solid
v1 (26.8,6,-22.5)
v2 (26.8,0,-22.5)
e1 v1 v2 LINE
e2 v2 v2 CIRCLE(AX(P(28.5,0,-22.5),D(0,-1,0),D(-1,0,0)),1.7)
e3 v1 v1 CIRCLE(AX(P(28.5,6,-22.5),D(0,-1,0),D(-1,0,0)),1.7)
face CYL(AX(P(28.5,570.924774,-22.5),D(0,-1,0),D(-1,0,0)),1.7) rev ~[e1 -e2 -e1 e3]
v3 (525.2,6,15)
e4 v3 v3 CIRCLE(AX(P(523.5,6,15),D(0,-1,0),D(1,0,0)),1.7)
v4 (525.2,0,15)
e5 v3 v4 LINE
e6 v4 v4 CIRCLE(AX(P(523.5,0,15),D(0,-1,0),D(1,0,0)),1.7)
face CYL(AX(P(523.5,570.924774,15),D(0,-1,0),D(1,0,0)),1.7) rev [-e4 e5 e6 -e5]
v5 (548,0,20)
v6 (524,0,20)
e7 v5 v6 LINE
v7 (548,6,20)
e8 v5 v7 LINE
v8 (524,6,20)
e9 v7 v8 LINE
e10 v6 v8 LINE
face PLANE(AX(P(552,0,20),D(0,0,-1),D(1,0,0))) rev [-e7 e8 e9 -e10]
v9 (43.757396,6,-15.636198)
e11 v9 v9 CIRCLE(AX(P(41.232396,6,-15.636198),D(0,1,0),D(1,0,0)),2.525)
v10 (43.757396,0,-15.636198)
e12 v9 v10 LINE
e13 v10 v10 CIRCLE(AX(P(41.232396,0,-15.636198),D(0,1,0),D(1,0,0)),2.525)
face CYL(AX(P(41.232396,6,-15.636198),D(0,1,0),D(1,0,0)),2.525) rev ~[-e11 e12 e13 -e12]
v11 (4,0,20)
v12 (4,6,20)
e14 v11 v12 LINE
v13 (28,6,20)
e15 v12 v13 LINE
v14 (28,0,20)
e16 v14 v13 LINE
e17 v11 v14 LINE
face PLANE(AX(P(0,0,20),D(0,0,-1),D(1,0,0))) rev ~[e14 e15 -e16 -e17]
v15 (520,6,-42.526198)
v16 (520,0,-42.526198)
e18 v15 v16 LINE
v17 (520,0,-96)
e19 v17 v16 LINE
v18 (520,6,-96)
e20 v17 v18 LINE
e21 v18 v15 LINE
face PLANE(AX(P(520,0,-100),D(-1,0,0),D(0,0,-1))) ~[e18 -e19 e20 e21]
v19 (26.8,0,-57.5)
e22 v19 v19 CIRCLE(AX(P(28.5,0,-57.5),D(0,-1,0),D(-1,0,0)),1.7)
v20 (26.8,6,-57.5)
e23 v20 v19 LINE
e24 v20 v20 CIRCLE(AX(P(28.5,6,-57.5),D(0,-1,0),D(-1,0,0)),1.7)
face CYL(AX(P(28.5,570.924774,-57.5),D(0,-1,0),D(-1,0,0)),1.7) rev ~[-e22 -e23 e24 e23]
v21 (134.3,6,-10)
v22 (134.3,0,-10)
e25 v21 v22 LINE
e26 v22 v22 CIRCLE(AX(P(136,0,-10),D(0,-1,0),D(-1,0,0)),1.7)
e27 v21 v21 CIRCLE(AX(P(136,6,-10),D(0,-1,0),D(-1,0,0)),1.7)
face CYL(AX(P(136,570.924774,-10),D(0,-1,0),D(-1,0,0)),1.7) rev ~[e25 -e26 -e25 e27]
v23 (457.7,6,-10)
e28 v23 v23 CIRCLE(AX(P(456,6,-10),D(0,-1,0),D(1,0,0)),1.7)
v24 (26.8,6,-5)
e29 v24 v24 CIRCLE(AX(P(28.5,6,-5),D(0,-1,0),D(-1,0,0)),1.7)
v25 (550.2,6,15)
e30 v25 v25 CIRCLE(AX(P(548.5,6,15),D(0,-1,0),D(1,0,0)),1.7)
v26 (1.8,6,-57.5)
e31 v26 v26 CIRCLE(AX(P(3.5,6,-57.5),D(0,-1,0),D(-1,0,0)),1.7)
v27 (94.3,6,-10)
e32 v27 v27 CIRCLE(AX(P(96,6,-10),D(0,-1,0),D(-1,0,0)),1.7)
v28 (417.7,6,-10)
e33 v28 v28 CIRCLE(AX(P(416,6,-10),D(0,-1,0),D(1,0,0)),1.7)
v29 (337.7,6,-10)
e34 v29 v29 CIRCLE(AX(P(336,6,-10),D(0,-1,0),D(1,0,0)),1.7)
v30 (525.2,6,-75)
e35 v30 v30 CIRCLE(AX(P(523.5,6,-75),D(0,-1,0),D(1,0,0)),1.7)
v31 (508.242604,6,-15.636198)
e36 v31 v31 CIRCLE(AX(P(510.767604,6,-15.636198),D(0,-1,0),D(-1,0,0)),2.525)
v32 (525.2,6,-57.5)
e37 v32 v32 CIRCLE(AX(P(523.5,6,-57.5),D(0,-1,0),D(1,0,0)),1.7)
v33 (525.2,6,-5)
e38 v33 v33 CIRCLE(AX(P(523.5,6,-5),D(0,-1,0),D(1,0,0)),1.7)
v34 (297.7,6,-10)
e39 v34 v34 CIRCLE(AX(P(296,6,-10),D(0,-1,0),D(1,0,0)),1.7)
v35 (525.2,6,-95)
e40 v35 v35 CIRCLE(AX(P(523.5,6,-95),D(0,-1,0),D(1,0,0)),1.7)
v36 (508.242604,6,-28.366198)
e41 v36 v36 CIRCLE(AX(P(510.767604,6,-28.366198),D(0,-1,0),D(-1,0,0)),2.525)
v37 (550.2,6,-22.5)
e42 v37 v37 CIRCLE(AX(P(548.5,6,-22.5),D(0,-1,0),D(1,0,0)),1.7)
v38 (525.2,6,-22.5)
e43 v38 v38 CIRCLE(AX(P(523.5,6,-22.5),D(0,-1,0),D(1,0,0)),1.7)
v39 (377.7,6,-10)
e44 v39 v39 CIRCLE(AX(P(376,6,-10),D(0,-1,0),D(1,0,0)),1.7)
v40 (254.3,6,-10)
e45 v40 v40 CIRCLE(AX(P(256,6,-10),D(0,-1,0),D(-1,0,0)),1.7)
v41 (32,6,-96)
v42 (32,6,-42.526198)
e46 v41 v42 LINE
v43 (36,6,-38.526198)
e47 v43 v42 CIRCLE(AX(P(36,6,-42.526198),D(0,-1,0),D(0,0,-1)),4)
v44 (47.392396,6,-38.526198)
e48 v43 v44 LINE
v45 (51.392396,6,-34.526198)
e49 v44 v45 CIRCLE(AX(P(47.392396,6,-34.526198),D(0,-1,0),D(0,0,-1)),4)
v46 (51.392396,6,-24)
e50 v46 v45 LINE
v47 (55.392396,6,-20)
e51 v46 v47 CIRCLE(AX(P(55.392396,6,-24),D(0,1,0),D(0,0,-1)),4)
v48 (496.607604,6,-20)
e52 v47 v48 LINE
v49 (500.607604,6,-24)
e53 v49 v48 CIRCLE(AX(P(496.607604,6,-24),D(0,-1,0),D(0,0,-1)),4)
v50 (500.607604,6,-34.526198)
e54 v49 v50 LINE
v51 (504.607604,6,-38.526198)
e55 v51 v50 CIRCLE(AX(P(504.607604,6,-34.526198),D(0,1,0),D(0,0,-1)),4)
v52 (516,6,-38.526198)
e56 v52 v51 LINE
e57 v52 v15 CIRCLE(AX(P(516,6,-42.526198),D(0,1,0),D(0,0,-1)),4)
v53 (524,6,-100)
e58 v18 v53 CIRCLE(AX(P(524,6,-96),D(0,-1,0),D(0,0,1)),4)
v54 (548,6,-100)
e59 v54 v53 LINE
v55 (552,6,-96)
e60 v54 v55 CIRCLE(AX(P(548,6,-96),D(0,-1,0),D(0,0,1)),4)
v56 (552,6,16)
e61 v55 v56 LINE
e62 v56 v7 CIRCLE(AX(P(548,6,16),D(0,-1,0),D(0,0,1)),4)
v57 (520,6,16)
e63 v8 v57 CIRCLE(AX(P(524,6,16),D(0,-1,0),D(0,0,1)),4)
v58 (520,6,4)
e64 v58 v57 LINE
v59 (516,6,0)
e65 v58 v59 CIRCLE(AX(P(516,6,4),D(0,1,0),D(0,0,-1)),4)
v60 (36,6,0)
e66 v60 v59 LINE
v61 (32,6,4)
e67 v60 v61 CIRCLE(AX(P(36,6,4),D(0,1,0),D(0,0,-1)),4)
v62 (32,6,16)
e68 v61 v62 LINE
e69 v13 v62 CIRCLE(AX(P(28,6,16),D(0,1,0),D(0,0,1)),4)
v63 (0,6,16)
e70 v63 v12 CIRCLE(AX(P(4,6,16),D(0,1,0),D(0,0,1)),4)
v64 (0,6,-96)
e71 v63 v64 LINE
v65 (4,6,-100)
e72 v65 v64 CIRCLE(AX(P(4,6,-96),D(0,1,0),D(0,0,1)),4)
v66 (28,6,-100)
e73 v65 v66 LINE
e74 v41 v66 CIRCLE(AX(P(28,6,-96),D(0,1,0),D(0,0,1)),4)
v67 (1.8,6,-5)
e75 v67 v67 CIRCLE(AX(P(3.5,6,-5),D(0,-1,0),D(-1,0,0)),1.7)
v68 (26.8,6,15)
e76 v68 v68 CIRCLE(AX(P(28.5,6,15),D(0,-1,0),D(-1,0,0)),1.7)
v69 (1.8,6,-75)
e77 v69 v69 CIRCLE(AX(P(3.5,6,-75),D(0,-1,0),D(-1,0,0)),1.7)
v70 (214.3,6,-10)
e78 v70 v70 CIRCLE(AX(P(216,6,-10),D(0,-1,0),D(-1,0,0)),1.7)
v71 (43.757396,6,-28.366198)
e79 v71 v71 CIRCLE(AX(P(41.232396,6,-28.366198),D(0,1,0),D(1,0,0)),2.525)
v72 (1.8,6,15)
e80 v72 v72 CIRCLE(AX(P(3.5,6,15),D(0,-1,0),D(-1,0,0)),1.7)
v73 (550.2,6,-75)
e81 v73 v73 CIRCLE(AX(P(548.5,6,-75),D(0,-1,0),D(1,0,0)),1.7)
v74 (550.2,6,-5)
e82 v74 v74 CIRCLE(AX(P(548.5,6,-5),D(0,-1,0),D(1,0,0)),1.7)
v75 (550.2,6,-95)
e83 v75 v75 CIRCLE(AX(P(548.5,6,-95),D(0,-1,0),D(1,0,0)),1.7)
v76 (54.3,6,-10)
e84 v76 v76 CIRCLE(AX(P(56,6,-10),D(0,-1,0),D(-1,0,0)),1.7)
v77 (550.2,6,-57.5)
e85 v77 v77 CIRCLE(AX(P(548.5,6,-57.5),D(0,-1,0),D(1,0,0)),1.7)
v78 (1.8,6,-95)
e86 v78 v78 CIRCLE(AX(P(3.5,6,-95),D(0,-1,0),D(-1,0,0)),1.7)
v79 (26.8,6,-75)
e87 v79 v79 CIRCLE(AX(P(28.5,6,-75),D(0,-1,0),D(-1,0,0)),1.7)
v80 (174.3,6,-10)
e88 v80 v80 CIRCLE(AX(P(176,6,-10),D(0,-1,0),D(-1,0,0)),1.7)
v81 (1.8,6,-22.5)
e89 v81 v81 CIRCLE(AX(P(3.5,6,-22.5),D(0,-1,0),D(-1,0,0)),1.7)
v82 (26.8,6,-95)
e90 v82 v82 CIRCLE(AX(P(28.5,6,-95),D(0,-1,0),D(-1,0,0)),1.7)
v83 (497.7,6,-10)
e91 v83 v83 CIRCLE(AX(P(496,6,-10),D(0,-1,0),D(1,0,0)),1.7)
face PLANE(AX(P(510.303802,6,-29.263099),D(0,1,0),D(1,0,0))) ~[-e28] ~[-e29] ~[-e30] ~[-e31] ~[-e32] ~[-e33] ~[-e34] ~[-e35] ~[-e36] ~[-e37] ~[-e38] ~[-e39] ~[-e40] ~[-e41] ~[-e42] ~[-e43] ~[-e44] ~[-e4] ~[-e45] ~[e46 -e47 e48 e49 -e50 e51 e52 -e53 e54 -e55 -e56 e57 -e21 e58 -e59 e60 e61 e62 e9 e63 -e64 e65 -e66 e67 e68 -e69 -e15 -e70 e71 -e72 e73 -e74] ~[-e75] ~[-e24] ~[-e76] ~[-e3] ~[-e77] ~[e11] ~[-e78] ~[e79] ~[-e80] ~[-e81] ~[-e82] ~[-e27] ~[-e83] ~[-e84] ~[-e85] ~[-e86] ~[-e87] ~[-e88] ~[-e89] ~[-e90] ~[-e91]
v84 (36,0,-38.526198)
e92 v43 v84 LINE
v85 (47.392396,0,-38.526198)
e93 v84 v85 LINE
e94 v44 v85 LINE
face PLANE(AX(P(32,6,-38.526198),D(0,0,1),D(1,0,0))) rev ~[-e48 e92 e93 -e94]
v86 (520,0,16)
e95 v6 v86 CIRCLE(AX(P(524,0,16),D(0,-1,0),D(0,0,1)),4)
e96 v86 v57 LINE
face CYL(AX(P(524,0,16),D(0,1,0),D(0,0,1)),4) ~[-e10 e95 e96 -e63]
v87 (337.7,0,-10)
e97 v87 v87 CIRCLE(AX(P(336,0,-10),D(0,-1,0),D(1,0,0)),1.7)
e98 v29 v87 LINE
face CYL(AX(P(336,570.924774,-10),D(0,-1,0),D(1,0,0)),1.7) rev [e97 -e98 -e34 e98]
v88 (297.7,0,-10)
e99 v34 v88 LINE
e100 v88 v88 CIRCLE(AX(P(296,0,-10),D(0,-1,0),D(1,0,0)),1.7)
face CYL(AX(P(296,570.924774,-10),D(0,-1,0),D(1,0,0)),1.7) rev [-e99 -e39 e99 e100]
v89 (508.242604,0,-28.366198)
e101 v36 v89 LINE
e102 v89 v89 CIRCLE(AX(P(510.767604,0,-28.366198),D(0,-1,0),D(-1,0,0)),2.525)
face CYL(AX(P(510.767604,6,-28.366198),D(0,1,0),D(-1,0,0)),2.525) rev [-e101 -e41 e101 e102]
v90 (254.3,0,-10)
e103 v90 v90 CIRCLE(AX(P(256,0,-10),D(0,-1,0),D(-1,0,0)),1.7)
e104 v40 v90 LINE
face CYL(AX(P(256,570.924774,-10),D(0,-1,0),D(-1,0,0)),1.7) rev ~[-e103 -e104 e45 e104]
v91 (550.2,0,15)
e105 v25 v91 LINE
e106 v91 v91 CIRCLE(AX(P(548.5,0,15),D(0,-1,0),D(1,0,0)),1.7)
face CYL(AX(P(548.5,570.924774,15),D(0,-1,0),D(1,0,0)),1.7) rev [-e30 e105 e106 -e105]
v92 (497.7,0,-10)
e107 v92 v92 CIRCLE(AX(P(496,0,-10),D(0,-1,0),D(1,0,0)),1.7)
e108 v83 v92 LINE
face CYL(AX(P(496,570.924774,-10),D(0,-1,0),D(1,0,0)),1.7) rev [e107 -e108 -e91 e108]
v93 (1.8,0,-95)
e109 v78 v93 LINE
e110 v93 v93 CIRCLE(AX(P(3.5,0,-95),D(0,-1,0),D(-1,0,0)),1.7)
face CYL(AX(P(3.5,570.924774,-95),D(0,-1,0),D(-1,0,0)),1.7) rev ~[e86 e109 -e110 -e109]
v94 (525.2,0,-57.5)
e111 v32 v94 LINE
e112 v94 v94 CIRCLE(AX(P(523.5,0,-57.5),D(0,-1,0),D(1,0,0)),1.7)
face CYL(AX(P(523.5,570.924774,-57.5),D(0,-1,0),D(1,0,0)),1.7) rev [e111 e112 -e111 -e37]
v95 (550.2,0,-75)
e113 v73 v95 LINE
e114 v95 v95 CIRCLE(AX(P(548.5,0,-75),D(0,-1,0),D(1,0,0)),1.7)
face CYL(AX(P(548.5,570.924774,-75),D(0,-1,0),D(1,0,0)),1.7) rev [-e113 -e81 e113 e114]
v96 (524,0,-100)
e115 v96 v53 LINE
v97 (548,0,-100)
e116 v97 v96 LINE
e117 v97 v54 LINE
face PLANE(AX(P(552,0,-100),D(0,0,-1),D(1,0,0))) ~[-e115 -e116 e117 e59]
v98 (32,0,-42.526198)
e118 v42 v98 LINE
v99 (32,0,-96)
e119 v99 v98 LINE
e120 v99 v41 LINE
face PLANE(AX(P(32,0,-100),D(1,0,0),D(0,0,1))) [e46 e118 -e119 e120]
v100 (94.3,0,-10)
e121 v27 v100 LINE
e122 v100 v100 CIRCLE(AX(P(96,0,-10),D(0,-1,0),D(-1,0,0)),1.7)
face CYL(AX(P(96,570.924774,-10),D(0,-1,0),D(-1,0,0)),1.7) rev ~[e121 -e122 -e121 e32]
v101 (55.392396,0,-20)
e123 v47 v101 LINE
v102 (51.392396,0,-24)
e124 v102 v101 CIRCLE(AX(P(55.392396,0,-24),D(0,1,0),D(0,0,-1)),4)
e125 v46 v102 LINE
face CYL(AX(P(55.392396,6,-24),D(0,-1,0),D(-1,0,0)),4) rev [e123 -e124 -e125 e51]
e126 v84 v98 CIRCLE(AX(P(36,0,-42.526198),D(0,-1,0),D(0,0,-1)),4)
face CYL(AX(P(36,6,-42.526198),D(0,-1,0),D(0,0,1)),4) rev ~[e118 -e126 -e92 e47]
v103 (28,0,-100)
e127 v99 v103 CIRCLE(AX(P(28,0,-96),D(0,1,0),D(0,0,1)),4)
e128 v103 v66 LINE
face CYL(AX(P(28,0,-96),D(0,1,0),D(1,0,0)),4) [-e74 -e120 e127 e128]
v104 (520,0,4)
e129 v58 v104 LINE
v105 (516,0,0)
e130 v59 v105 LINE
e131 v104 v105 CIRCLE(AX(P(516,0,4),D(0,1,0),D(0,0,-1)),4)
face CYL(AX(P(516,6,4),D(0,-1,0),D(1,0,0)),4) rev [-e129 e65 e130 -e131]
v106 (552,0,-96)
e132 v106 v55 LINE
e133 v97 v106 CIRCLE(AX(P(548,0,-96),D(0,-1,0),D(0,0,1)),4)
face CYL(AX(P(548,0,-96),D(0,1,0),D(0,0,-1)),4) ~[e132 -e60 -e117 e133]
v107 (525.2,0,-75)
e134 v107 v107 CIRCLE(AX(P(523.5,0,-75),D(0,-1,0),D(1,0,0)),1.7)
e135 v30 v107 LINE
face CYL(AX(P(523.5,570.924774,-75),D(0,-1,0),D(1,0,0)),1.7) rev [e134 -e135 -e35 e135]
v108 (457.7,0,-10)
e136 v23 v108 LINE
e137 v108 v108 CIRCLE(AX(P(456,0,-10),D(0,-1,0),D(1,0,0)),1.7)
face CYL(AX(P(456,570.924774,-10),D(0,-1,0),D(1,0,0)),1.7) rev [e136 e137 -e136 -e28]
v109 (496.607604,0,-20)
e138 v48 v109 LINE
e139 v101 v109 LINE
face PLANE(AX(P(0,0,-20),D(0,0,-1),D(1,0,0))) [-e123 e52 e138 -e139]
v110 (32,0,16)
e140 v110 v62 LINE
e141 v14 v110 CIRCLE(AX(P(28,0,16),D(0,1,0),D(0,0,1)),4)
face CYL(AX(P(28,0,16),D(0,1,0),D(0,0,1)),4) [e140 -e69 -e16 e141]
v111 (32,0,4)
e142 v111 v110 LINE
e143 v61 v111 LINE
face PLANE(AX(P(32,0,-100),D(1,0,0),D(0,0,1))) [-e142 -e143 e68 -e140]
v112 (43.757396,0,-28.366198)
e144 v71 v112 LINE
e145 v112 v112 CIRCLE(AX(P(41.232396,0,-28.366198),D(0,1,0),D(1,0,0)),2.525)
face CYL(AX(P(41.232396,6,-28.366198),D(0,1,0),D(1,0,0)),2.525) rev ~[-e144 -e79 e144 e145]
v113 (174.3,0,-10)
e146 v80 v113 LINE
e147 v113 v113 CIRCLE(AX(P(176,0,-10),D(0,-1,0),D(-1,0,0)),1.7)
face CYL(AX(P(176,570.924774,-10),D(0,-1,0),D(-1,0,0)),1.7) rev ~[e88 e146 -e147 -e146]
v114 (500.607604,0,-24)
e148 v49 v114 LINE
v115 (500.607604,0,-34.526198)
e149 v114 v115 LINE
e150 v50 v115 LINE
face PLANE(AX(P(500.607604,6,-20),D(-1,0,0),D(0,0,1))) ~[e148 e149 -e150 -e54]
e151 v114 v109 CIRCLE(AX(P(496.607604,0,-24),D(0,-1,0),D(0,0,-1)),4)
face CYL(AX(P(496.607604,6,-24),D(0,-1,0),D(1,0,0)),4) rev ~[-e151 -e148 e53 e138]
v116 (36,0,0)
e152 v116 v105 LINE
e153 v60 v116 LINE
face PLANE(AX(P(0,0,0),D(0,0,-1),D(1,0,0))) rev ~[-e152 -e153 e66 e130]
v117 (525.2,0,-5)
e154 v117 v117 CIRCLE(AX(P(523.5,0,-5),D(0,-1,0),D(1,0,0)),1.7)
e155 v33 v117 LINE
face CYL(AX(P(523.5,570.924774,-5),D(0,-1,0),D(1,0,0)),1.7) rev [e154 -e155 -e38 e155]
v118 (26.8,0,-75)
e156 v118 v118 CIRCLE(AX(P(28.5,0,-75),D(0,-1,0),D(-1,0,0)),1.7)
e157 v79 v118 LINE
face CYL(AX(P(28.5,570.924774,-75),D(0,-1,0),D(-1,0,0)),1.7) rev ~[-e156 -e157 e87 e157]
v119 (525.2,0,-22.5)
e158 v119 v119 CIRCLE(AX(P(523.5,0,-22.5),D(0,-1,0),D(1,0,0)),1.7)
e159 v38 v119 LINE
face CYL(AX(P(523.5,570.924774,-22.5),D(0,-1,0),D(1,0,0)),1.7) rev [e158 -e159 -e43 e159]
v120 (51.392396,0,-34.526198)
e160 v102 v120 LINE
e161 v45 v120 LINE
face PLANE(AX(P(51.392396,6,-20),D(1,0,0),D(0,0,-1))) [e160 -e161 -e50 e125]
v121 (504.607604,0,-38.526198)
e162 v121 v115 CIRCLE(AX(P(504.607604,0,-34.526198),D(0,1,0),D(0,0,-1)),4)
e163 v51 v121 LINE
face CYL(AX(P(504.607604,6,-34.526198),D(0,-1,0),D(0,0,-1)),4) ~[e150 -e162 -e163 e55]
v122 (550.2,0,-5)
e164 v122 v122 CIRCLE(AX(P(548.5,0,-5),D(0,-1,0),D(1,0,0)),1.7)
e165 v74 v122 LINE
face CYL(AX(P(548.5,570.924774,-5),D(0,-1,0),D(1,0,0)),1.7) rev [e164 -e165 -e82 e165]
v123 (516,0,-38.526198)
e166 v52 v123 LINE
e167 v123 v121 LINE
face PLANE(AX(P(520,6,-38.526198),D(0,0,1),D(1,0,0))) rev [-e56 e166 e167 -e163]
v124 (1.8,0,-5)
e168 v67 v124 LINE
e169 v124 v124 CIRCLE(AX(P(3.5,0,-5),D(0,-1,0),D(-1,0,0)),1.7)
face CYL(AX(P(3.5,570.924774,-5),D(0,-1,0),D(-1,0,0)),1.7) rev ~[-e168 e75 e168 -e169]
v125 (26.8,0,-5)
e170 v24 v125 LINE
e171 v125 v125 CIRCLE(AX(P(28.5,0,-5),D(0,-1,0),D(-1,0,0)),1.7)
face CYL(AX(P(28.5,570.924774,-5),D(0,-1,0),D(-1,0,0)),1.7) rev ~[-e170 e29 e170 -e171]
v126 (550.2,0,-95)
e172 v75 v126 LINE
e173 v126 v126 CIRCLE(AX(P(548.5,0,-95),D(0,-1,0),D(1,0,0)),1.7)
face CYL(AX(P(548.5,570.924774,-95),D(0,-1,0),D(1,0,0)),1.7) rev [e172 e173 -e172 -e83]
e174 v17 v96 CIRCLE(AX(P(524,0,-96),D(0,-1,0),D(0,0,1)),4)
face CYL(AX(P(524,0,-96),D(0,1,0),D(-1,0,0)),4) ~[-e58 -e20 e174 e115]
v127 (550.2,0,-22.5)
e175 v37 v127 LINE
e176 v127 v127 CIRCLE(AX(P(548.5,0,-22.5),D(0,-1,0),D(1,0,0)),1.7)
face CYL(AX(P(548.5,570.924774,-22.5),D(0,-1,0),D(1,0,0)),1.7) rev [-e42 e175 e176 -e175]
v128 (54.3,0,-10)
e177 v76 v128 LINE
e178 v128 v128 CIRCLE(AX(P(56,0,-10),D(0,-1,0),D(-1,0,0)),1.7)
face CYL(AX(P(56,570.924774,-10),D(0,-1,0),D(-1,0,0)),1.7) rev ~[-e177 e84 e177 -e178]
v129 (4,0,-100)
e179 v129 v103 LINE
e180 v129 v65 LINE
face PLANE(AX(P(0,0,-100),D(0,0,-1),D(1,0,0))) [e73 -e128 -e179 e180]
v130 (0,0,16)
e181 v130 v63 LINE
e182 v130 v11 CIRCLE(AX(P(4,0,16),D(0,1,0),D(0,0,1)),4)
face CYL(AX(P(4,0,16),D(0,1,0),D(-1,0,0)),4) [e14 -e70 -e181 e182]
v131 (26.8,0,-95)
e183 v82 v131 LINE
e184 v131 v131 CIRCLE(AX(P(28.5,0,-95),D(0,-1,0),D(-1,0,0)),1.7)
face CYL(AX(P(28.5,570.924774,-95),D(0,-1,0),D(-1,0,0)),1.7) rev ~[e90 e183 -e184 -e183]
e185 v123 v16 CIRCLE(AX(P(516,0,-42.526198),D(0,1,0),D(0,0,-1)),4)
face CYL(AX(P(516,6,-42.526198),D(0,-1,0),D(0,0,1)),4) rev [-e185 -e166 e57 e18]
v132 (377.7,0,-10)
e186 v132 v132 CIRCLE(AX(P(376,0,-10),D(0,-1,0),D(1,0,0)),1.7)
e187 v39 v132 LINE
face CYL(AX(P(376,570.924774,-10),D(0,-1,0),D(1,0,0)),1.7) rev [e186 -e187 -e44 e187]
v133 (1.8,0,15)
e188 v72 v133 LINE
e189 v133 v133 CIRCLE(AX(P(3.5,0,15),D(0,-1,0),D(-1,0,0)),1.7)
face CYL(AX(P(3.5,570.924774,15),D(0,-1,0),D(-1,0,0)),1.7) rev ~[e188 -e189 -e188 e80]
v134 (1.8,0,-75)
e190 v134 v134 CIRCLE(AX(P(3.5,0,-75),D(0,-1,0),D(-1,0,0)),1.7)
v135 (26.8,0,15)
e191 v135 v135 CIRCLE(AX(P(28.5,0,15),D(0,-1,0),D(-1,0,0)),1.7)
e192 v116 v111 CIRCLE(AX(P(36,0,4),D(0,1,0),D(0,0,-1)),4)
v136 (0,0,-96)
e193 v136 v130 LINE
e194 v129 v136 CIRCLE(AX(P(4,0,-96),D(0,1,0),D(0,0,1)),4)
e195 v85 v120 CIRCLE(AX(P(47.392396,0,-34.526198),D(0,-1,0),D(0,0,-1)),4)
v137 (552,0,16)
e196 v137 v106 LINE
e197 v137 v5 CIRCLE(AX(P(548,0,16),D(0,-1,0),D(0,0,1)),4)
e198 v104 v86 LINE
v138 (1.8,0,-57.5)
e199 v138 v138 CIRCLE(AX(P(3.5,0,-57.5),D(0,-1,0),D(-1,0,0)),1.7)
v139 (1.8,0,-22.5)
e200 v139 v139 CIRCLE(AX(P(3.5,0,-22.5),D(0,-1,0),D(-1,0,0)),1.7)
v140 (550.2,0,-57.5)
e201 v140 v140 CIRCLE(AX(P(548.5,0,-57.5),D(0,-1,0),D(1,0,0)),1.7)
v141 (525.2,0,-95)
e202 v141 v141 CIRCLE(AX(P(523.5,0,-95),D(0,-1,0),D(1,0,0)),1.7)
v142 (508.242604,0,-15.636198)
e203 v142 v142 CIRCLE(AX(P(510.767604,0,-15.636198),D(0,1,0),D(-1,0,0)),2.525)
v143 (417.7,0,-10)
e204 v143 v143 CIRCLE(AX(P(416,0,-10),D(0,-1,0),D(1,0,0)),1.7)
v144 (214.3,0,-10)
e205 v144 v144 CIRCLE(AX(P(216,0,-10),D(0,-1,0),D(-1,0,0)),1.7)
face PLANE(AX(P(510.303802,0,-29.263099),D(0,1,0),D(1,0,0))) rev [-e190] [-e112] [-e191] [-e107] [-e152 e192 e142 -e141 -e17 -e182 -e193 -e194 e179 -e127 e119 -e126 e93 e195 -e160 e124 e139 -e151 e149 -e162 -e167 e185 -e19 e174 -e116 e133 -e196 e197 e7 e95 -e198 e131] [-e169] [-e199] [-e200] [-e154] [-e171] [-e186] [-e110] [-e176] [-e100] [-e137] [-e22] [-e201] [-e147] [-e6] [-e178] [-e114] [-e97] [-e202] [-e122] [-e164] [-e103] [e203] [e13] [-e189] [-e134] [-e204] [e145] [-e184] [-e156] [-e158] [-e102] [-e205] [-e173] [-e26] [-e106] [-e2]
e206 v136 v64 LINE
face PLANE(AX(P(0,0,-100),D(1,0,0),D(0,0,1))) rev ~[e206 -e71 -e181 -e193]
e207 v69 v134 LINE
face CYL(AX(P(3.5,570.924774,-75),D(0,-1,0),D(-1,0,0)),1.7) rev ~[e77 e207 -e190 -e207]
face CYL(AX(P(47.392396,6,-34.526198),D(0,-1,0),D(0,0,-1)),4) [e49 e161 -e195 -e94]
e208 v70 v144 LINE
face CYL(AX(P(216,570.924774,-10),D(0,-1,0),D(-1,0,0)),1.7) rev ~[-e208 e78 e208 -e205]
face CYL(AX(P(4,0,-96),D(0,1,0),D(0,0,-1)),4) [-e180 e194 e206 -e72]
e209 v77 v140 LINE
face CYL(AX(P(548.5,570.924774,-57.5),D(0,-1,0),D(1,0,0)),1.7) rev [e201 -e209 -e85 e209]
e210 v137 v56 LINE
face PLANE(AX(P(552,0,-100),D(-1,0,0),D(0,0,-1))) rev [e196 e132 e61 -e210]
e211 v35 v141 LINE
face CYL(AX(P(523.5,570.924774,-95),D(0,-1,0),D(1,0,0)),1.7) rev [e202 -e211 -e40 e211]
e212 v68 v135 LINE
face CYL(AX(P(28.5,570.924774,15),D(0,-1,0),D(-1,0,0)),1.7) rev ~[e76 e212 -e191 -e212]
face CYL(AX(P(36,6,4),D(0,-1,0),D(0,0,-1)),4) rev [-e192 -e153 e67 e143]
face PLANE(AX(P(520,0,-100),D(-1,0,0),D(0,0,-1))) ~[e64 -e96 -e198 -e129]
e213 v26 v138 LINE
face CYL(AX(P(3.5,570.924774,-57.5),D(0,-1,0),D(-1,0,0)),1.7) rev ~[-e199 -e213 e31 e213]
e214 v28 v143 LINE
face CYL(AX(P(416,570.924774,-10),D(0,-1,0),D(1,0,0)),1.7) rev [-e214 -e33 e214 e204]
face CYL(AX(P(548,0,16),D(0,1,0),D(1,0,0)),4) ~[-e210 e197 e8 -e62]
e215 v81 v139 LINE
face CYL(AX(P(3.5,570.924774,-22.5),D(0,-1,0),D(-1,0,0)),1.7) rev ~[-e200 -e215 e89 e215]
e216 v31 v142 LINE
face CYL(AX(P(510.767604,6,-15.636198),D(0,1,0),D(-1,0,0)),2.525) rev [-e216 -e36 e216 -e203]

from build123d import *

# Parameters (mm, degrees)
SKETCH1_W            = 552
SKETCH1_H            = 20
BOSS_EXTRUDE1_DEPTH  = 6
SKETCH3_W            = 32
SKETCH3_H            = 120
BOSS_EXTRUDE2_DEPTH  = 6
M3_CLEARANCE_HOLE1_D = 3.4
SKETCH10_W           = 19.392395665
SKETCH10_H           = 18.526197832
SKETCH10_R           = 2.525
BOSS_EXTRUDE3_DEPTH  = 6
SKETCH12_R           = 2.525
CUT_EXTRUDE2_DEPTH   = 7
FILLET2_R            = 4
FILLET2_OF_MIRROR1_R = 4


with BuildPart() as part:
    # Sketch1 → Boss-Extrude1 (new body)
    with BuildSketch(Plane(origin=(0, 0, 0), x_dir=(1, 0, 0), z_dir=(0, 1, 0))):
        with Locations((276, 10)):
            Rectangle(SKETCH1_W, SKETCH1_H)
    extrude(amount=BOSS_EXTRUDE1_DEPTH)

    # Sketch3 → Boss-Extrude2 (add)
    with BuildSketch(Plane.XZ):
        with Locations((16, -40)):
            Rectangle(SKETCH3_W, SKETCH3_H)
    boss_extrude2 = extrude(amount=-BOSS_EXTRUDE2_DEPTH)

    # M3 Clearance Hole1 (through all)
    with Locations(Plane(origin=(0, 6, 0), x_dir=(1, 0, 0), z_dir=(0, 1, 0))):
        with Locations((3.5, -15), (3.5, 5), (28.5, 5), (28.5, -15), (3.5, 95), (28.5, 95), (28.5, 75), (3.5, 75), (56, 10), (96, 10), (136, 10), (176, 10), (216, 10), (256, 10), (28.5, 57.5), (28.5, 22.5), (3.5, 22.5), (3.5, 57.5)):
            m3_clearance_hole1 = Hole(M3_CLEARANCE_HOLE1_D / 2)

    # Sketch10 → Boss-Extrude3 (add)
    with BuildSketch(Plane(origin=(0, 6, 0), x_dir=(1, 0, 0), z_dir=(0, 1, 0))):
        with Locations((41.696197833, 29.263098916)):
            Rectangle(SKETCH10_W, SKETCH10_H)
        with Locations((41.232395665, 28.366197832)):
            Circle(SKETCH10_R, mode=Mode.SUBTRACT)
    boss_extrude3 = extrude(amount=-BOSS_EXTRUDE3_DEPTH)

    # Sketch12 → Cut-Extrude2 (cut, through all)
    with BuildSketch(Plane(origin=(0, 6, 0), x_dir=(1, 0, 0), z_dir=(0, 1, 0))):
        with Locations((41.232395665, 15.636197832)):
            Circle(SKETCH12_R)
    cut_extrude2 = extrude(amount=-CUT_EXTRUDE2_DEPTH, mode=Mode.SUBTRACT)

    # Fillet2
    fillet2_edges = [part.edges().sort_by_distance(p)[0] for p in [
        (32, 3, -38.526197832),
        (51.392395665, 3, -38.526197832),
        (51.392395665, 3, -20),
        (0, 3, -100),
        (32, 3, 20),
        (0, 3, 20),
        (32, 3, 0),
        (32, 3, -100),
    ]]
    fillet(fillet2_edges, radius=FILLET2_R)

    # Mirror1: Boss-Extrude2, M3 Clearance Hole1, Boss-Extrude3, Cut-Extrude2 across plane
    add(boss_extrude2.mirror(Plane(origin=(276, 0, 0), x_dir=(0, 0, 1), z_dir=(1, 0, 0))))
    add(m3_clearance_hole1.mirror(Plane(origin=(276, 0, 0), x_dir=(0, 0, 1), z_dir=(1, 0, 0))), mode=Mode.SUBTRACT)
    add(boss_extrude3.mirror(Plane(origin=(276, 0, 0), x_dir=(0, 0, 1), z_dir=(1, 0, 0))))
    add(cut_extrude2.mirror(Plane(origin=(276, 0, 0), x_dir=(0, 0, 1), z_dir=(1, 0, 0))), mode=Mode.SUBTRACT)

    # Fillet2 of Mirror1
    fillet2_of_mirror1_edges = [part.edges().sort_by_distance(p)[0] for p in [
        (520, 3, -38.526197832),
        (500.607604335, 3, -38.526197832),
        (500.607604335, 3, -20),
        (552, 3, -100),
        (520, 3, 20),
        (552, 3, 20),
        (520, 3, 0),
        (520, 3, -100),
    ]]
    fillet(fillet2_of_mirror1_edges, radius=FILLET2_OF_MIRROR1_R)


solid = part.part
